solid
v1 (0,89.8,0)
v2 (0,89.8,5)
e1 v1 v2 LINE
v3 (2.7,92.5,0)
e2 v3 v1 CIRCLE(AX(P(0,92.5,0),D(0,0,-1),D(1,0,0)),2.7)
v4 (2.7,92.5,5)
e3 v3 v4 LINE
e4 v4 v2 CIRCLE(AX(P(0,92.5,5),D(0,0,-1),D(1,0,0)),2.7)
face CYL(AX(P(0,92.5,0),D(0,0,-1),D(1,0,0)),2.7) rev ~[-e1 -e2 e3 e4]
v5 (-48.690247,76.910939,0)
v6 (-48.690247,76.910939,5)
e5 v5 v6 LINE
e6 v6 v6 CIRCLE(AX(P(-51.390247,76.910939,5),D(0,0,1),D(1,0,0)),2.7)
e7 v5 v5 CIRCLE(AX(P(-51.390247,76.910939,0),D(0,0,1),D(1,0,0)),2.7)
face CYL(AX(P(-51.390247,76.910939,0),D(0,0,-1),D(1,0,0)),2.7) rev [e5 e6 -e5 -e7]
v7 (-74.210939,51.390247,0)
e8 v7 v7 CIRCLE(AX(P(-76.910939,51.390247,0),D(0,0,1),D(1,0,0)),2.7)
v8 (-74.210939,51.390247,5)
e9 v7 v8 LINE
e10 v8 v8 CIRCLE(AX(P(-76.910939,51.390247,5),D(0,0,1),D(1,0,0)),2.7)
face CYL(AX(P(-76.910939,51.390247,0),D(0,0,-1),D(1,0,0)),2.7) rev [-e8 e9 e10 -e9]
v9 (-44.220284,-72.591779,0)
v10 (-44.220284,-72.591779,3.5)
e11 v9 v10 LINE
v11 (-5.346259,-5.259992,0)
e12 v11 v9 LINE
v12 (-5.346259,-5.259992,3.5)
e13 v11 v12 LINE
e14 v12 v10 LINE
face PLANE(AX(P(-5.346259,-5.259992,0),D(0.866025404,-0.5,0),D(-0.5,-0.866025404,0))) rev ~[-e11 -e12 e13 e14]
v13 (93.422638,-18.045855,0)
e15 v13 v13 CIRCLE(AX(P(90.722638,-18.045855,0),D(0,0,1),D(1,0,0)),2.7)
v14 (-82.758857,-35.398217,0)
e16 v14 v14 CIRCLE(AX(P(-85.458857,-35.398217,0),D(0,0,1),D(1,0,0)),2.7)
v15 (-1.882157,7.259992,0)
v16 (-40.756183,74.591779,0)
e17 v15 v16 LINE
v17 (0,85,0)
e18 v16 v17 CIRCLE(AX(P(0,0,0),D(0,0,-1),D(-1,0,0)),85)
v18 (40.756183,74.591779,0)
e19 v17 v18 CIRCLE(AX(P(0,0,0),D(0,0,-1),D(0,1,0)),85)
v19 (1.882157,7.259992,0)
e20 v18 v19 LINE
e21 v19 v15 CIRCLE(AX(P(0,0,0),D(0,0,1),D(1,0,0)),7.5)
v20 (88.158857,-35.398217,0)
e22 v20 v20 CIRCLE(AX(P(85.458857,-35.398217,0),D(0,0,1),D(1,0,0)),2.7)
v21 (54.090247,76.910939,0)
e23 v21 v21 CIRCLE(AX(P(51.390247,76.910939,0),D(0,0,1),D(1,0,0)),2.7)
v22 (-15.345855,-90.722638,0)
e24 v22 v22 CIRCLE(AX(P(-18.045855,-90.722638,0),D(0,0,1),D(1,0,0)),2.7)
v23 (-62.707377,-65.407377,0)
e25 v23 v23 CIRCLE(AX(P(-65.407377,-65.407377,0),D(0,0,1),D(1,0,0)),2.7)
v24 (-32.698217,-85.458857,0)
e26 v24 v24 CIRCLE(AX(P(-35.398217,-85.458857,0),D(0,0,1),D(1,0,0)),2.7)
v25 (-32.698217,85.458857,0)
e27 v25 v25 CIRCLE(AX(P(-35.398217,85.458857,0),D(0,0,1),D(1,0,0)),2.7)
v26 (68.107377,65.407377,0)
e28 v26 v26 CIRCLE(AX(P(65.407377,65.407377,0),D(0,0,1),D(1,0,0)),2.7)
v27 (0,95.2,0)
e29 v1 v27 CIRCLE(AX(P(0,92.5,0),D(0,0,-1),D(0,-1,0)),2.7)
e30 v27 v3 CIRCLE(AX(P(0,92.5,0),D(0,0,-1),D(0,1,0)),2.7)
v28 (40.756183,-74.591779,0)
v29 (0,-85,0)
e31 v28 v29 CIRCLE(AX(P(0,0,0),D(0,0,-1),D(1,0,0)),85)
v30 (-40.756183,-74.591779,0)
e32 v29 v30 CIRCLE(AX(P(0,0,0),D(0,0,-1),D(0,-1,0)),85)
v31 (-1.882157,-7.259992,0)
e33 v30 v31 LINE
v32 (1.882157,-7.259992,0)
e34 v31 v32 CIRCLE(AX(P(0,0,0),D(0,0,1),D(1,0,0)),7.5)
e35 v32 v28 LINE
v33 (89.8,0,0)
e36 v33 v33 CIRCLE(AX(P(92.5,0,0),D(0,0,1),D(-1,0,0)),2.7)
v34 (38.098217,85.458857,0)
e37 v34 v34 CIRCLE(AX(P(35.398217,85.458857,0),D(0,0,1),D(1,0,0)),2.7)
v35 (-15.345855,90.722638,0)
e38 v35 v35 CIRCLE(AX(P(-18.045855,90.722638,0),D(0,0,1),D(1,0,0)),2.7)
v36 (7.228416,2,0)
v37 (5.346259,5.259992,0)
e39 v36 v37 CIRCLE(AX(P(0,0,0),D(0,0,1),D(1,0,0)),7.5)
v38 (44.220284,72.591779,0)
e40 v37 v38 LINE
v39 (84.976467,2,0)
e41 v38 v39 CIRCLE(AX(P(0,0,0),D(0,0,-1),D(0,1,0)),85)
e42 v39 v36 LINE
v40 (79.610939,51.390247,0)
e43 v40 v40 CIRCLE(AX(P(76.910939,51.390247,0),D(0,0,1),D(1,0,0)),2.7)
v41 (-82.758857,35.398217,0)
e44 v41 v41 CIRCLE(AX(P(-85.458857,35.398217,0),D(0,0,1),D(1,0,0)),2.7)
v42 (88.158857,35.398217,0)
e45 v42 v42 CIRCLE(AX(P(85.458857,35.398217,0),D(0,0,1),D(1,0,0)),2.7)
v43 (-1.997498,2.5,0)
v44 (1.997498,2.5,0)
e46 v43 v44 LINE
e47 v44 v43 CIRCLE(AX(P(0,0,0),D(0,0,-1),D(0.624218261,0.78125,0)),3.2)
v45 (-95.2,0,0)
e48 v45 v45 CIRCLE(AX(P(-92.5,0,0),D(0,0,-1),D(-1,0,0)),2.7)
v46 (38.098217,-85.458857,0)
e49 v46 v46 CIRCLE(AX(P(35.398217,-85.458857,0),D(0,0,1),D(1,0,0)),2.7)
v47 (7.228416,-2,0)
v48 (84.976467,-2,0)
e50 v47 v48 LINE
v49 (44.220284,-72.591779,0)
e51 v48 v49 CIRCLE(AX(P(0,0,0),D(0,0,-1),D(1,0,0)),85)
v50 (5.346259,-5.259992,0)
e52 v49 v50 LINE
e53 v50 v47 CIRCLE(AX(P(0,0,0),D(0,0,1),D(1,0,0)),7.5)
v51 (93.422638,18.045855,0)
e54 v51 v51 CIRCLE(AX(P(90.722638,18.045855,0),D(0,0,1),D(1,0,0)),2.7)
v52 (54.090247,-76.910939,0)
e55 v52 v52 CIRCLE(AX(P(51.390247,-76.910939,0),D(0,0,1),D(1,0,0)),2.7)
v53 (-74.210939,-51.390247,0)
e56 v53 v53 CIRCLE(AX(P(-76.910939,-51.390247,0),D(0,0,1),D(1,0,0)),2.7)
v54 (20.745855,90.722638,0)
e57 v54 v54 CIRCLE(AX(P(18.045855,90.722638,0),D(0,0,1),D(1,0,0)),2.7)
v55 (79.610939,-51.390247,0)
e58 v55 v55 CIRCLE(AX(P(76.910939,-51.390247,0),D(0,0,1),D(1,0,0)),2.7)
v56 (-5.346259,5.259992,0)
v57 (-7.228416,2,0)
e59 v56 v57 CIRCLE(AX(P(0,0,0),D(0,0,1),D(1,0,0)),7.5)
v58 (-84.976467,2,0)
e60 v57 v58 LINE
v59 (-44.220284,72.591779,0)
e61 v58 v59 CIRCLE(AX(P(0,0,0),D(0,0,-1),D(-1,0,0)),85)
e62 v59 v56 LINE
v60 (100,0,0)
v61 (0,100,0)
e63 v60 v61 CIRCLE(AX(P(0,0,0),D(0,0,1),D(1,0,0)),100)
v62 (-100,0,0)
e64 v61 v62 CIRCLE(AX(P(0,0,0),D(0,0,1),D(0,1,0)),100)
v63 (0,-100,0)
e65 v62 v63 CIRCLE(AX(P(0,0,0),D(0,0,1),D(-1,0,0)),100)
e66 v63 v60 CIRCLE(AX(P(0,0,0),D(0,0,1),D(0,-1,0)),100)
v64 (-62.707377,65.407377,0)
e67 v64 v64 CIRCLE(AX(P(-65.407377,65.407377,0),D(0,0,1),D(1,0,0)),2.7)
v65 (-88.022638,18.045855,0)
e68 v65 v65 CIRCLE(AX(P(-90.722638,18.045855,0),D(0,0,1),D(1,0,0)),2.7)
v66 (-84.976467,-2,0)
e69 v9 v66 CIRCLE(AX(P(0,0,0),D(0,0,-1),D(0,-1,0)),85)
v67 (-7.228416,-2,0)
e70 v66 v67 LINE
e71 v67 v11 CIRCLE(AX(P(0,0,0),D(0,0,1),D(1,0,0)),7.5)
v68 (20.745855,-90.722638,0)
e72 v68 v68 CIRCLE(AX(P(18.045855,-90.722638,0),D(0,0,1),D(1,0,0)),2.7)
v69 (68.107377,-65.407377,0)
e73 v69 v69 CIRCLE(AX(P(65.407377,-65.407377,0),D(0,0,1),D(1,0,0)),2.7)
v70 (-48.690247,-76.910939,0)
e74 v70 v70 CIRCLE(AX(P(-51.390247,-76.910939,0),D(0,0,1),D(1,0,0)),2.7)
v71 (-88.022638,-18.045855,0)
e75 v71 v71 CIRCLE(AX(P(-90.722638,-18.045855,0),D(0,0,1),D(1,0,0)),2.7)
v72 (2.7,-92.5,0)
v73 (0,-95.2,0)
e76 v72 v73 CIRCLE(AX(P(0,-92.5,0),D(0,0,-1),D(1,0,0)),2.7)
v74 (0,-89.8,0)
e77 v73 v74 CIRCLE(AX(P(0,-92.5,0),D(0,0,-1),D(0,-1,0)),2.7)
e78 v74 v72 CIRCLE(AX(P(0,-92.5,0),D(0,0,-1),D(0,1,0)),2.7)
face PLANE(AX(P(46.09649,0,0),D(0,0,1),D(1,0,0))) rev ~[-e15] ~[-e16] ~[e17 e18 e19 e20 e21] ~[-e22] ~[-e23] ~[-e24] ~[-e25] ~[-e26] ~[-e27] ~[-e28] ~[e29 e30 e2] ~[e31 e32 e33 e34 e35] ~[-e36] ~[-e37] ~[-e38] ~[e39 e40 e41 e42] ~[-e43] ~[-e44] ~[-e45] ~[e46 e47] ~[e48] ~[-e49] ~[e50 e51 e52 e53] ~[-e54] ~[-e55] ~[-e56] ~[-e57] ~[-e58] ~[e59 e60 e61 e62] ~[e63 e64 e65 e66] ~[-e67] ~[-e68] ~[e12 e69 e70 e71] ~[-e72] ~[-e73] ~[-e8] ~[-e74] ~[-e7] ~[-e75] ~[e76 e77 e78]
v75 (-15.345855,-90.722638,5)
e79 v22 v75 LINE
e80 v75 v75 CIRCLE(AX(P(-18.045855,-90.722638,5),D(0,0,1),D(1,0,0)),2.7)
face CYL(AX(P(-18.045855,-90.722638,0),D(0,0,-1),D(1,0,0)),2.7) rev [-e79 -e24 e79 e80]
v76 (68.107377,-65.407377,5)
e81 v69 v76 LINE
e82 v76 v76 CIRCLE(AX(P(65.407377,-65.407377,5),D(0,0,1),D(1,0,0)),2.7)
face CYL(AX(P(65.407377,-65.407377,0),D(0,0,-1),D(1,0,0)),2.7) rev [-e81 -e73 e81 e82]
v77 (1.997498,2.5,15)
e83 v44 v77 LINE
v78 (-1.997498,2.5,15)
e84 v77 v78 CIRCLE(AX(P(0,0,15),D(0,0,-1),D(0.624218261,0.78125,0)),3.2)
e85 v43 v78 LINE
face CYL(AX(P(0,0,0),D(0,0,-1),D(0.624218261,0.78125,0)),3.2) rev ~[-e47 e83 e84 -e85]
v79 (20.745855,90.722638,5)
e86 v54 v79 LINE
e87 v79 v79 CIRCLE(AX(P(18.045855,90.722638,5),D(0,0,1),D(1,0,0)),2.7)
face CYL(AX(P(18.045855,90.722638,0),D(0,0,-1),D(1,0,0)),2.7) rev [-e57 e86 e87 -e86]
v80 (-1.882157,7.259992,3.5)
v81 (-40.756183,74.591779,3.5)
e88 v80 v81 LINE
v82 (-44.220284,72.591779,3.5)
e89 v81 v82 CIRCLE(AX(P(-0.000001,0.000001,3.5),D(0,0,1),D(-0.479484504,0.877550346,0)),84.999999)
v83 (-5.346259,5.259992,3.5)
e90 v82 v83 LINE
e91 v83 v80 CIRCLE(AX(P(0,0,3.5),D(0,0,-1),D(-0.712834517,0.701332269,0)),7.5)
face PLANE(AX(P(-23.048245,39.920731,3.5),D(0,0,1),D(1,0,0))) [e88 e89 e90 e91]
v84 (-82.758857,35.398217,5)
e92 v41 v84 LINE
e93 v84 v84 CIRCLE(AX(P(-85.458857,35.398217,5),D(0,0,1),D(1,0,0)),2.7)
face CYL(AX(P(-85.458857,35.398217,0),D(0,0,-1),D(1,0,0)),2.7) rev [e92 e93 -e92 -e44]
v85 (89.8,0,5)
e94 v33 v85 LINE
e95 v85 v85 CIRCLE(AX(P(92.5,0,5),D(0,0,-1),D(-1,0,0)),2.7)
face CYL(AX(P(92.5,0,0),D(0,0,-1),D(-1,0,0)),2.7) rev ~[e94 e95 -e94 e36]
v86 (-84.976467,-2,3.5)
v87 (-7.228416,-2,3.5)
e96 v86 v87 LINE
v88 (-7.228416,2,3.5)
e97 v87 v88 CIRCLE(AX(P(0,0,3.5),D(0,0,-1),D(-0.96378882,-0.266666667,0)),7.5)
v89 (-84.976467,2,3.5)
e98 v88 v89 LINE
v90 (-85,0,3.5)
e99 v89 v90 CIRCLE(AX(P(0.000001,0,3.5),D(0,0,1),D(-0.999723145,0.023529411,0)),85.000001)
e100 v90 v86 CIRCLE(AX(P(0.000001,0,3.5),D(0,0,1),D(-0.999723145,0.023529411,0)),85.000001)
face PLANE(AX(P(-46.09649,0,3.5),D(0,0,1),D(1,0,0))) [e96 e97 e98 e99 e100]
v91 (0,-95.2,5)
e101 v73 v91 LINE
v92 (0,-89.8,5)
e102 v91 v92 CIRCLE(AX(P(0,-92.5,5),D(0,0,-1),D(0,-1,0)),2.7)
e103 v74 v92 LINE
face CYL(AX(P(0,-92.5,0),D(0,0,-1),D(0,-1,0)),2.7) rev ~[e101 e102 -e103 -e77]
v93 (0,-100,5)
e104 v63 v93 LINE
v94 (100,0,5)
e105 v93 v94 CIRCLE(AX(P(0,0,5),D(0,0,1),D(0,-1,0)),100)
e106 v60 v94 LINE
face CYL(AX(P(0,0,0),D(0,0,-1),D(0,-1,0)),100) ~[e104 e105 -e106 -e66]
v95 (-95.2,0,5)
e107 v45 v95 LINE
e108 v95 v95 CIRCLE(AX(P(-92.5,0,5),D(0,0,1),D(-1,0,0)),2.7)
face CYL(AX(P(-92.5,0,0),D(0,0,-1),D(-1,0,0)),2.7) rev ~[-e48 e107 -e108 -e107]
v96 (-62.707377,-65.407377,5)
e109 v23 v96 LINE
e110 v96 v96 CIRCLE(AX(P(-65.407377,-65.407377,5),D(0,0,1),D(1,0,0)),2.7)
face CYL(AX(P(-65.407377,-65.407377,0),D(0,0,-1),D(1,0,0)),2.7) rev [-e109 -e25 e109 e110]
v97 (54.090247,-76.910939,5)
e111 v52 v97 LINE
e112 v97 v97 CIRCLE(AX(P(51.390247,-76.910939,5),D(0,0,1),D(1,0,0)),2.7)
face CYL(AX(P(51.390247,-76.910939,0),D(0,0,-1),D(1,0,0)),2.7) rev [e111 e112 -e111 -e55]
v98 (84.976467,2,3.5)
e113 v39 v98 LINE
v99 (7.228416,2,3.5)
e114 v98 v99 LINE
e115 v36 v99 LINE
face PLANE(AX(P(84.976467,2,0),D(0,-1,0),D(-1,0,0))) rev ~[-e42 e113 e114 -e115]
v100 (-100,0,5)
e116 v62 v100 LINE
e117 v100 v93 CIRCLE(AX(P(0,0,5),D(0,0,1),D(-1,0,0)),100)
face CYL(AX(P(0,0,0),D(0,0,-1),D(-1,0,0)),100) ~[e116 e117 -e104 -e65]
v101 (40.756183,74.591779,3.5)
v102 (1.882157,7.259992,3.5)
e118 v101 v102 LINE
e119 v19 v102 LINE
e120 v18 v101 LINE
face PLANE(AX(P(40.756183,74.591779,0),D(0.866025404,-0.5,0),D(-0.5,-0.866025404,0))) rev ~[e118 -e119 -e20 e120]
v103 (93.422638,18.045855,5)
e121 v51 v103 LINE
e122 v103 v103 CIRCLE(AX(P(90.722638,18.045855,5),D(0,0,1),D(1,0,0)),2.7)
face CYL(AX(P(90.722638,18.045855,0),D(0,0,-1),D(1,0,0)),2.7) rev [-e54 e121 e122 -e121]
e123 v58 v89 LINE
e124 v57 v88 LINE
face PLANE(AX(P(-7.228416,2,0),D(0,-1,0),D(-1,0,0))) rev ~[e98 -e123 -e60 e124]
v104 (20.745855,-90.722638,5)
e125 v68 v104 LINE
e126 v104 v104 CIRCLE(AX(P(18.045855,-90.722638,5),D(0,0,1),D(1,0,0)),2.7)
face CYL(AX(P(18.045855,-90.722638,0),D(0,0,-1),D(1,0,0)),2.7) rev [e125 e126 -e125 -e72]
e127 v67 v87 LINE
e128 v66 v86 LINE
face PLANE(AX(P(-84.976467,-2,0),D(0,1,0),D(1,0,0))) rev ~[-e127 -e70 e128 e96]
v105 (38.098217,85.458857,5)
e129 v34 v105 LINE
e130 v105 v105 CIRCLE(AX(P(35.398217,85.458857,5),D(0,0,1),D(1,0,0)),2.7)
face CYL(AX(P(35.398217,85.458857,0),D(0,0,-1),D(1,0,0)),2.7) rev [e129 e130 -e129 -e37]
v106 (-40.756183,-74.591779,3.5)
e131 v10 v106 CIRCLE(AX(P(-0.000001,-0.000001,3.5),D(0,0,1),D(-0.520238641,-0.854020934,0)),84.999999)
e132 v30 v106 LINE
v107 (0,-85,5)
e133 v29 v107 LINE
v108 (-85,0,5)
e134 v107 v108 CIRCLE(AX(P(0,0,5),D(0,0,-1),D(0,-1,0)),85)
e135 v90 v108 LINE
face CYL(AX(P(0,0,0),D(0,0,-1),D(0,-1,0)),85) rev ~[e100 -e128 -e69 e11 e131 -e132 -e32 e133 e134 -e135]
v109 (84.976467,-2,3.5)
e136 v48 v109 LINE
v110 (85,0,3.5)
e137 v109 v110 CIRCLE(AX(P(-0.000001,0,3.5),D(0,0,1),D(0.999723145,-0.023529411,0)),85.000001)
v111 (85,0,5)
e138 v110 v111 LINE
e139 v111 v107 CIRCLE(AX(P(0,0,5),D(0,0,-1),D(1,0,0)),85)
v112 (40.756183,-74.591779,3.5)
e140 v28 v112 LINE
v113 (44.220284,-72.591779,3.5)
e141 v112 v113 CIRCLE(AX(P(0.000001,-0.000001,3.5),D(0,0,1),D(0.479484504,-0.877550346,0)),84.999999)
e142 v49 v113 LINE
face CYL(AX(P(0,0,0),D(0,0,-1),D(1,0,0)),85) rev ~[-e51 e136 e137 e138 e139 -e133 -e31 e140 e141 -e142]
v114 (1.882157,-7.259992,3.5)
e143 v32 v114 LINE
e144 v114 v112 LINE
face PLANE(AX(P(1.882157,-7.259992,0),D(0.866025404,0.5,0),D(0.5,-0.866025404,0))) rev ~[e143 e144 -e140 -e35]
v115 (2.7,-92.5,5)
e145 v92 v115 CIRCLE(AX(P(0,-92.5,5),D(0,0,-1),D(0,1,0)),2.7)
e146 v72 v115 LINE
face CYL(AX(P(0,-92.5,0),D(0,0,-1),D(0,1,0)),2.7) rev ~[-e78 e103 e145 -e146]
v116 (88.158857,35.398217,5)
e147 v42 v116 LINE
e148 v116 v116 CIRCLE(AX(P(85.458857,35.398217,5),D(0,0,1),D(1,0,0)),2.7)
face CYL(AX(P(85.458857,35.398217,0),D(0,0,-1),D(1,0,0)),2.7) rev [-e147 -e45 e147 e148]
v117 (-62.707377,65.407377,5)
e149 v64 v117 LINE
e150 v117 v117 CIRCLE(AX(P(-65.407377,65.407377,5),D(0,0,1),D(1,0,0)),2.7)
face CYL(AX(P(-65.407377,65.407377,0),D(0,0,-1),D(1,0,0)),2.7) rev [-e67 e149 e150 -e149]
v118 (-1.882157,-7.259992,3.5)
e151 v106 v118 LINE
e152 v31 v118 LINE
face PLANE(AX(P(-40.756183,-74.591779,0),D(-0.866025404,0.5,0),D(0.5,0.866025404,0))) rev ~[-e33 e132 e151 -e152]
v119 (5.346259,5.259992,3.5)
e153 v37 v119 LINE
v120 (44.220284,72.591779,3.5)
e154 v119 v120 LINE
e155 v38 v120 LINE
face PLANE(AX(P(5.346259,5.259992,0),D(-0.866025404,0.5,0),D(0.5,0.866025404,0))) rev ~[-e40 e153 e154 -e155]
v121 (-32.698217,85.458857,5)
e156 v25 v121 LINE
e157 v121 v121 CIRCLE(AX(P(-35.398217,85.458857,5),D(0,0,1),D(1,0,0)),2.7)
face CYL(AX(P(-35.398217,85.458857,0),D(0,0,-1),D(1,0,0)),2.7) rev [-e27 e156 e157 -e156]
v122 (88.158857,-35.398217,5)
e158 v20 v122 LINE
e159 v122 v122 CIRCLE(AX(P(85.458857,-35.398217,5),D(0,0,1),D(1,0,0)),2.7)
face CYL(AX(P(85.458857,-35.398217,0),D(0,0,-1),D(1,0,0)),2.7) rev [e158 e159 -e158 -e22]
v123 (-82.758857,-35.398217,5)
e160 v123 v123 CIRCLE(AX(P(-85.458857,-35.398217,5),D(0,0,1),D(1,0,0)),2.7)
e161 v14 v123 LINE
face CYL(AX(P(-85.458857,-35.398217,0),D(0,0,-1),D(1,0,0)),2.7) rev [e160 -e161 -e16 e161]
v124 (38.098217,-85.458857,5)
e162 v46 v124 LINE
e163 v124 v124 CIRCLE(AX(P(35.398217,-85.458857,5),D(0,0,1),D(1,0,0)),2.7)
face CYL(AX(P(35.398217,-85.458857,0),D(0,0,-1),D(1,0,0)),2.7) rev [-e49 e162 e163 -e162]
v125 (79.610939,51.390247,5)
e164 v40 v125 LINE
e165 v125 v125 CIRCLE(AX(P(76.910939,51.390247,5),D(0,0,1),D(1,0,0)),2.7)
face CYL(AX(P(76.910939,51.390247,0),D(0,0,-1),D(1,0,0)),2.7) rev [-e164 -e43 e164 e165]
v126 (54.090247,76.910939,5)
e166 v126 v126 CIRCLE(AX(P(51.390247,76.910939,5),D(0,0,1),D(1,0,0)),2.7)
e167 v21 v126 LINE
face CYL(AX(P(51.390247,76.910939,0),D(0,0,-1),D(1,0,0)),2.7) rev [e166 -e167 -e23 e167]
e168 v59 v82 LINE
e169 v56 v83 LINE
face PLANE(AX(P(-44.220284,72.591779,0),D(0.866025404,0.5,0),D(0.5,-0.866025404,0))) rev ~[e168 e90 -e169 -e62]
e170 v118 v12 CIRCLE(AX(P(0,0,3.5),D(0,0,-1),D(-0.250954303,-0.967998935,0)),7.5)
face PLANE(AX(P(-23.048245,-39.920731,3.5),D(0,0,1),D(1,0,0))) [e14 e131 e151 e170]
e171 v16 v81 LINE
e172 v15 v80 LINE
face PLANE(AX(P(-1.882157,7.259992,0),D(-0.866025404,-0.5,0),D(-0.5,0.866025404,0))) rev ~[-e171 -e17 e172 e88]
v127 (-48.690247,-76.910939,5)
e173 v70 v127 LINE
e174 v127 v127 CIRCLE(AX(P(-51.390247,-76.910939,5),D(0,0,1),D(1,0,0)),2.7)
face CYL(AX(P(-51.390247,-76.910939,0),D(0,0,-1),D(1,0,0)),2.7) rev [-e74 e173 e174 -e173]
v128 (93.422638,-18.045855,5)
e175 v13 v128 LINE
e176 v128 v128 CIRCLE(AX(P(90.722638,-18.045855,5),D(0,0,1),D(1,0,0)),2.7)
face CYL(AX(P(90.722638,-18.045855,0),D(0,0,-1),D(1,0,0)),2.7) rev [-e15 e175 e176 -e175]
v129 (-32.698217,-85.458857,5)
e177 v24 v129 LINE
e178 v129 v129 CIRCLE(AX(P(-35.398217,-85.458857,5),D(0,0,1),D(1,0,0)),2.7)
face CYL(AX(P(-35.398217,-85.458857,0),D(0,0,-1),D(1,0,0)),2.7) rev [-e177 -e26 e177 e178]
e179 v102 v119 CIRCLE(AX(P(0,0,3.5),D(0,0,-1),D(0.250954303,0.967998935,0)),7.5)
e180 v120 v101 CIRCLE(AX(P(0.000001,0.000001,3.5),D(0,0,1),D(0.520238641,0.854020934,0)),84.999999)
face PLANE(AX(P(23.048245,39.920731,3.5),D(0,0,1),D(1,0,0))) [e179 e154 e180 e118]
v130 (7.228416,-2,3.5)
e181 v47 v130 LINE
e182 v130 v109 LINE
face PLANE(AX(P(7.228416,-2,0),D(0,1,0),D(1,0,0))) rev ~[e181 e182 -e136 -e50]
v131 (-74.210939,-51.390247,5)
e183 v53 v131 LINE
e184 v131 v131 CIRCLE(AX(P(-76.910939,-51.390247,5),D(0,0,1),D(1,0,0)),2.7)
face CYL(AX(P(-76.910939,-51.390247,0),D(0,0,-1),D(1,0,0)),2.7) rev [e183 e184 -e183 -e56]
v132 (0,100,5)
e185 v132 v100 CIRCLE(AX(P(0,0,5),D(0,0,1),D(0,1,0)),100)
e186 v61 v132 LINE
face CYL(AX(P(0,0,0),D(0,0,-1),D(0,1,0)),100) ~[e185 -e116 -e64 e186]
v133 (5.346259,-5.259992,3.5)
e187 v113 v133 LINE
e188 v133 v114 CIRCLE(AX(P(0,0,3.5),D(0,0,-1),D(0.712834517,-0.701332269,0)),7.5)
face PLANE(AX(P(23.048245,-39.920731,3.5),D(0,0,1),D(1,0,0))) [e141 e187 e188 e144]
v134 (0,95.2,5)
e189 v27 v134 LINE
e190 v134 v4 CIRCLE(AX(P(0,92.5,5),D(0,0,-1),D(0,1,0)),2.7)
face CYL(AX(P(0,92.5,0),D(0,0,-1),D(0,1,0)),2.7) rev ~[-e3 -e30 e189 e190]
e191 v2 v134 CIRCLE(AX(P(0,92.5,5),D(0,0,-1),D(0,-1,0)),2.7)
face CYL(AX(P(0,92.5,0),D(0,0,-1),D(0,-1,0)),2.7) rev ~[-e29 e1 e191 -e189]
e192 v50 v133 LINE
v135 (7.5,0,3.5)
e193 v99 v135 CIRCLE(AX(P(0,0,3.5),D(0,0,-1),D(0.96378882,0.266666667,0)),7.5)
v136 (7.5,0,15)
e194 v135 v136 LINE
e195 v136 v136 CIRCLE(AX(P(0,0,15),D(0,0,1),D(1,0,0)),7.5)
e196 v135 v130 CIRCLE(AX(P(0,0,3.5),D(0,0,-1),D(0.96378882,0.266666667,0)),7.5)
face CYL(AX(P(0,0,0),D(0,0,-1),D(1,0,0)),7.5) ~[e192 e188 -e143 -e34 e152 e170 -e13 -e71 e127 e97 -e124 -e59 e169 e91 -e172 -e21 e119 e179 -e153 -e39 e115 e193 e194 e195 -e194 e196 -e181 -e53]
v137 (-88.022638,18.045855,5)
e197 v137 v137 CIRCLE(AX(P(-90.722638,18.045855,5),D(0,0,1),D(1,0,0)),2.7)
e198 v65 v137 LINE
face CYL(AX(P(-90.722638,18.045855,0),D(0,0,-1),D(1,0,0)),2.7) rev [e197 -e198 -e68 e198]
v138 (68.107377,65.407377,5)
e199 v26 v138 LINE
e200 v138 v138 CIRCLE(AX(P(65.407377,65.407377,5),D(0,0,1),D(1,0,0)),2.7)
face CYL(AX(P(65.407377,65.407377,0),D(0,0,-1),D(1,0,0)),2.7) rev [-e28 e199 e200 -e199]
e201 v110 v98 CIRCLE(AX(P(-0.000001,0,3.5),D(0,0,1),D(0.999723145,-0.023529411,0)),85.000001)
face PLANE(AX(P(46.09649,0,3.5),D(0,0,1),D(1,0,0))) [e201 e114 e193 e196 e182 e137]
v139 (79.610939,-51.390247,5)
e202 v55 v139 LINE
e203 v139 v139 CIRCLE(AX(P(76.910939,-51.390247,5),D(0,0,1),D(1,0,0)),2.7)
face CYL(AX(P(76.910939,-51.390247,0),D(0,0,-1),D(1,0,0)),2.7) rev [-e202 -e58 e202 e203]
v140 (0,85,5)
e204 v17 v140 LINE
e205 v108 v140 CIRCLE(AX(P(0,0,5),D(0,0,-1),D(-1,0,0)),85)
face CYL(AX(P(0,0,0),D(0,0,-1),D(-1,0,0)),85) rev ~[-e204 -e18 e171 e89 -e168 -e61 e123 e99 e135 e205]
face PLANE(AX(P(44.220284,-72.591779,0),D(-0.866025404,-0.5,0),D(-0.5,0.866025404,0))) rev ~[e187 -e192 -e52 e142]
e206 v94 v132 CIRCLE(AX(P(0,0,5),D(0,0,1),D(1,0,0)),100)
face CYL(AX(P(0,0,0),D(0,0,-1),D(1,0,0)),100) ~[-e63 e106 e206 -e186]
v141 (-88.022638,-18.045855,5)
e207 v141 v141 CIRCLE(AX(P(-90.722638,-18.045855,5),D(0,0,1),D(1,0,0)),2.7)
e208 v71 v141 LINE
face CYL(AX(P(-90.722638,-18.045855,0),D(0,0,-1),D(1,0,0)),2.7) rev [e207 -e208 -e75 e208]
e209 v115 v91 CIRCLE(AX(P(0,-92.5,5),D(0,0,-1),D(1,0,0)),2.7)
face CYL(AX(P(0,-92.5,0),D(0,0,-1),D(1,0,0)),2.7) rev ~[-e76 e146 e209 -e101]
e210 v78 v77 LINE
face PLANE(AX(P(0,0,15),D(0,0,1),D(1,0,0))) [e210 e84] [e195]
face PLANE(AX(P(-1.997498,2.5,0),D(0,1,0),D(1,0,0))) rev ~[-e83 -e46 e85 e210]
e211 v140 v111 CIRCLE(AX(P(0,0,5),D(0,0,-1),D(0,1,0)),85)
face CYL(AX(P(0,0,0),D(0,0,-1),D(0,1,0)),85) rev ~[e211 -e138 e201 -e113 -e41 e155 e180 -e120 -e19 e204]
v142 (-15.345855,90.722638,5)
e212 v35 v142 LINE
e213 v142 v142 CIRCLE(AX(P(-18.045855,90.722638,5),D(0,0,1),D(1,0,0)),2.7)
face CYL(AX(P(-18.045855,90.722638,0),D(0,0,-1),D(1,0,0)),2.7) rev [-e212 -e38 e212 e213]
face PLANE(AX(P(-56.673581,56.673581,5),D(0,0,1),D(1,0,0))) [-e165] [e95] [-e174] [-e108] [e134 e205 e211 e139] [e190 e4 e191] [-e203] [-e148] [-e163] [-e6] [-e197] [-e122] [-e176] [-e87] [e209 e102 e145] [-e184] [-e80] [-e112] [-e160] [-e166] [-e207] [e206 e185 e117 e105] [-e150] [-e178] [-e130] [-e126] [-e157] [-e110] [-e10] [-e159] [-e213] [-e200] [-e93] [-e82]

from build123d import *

# Parameters (mm, degrees)
SKETCH1_R           = 2.7
BOSS_EXTRUDE1_DEPTH = 5
SKETCH2_R           = 7.5
BOSS_EXTRUDE2_DEPTH = 15
BOSS_EXTRUDE3_DEPTH = 3.5


with BuildPart() as part:
    # Sketch1 → Boss-Extrude1 (new body)
    # profile 1 of 4: a face of its own
    with BuildSketch(Plane.XY):
        with BuildLine():
            Line((0, 89.8), (0, 85))
            ThreePointArc((0, 85), (60.104076401, 60.104076401), (85, 0))
            Line((85, 0), (89.8, 0))
            ThreePointArc((89.8, 0), (92.5, 2.7), (95.2, 0))
            Line((95.2, 0), (100, 0))
            ThreePointArc((100, 0), (70.710678119, 70.710678119), (0, 100))
            Line((0, 100), (0, 95.2))
            ThreePointArc((0, 95.2), (1.909188309, 94.409188309), (2.7, 92.5))
            ThreePointArc((2.7, 92.5), (1.909188309, 90.590811691), (0, 89.8))
        make_face()
        with Locations((90.722638437, 18.045854786)):
            Circle(SKETCH1_R, mode=Mode.SUBTRACT)
        with Locations((85.458856757, 35.398217494)):
            Circle(SKETCH1_R, mode=Mode.SUBTRACT)
        with Locations((18.045854786, 90.722638437)):
            Circle(SKETCH1_R, mode=Mode.SUBTRACT)
        with Locations((35.398217494, 85.458856757)):
            Circle(SKETCH1_R, mode=Mode.SUBTRACT)
        with Locations((65.40737726, 65.40737726)):
            Circle(SKETCH1_R, mode=Mode.SUBTRACT)
        with Locations((76.910939138, 51.390246554)):
            Circle(SKETCH1_R, mode=Mode.SUBTRACT)
        with Locations((51.390246554, 76.910939138)):
            Circle(SKETCH1_R, mode=Mode.SUBTRACT)
    # profile 2 of 4: a face of its own
    with BuildSketch(Plane.XY):
        with BuildLine():
            ThreePointArc((85, 0), (60.104076401, -60.104076401), (0, -85))
            Line((0, -85), (0, -89.8))
            ThreePointArc((0, -89.8), (1.909188309, -90.590811691), (2.7, -92.5))
            ThreePointArc((2.7, -92.5), (1.909188309, -94.409188309), (0, -95.2))
            Line((0, -95.2), (0, -100))
            ThreePointArc((0, -100), (70.710678119, -70.710678119), (100, 0))
            Line((100, 0), (95.2, 0))
            ThreePointArc((95.2, 0), (92.5, -2.7), (89.8, 0))
            Line((89.8, 0), (85, 0))
        make_face()
        with Locations((18.045854786, -90.722638437)):
            Circle(SKETCH1_R, mode=Mode.SUBTRACT)
        with Locations((35.398217494, -85.458856757)):
            Circle(SKETCH1_R, mode=Mode.SUBTRACT)
        with Locations((51.390246554, -76.910939138)):
            Circle(SKETCH1_R, mode=Mode.SUBTRACT)
        with Locations((65.40737726, -65.40737726)):
            Circle(SKETCH1_R, mode=Mode.SUBTRACT)
        with Locations((76.910939138, -51.390246554)):
            Circle(SKETCH1_R, mode=Mode.SUBTRACT)
        with Locations((85.458856757, -35.398217494)):
            Circle(SKETCH1_R, mode=Mode.SUBTRACT)
        with Locations((90.722638437, -18.045854786)):
            Circle(SKETCH1_R, mode=Mode.SUBTRACT)
    # profile 3 of 4: a face of its own
    with BuildSketch(Plane.XY):
        with BuildLine():
            ThreePointArc((0, -85), (-60.104076401, -60.104076401), (-85, 0))
            Line((-85, 0), (-89.8, 0))
            ThreePointArc((-89.8, 0), (-92.5, -2.7), (-95.2, 0))
            Line((-95.2, 0), (-100, 0))
            ThreePointArc((-100, 0), (-70.710678119, -70.710678119), (0, -100))
            Line((0, -100), (0, -95.2))
            ThreePointArc((0, -95.2), (-2.7, -92.5), (0, -89.8))
            Line((0, -89.8), (0, -85))
        make_face()
        with Locations((-51.390246554, -76.910939138)):
            Circle(SKETCH1_R, mode=Mode.SUBTRACT)
        with Locations((-76.910939138, -51.390246554)):
            Circle(SKETCH1_R, mode=Mode.SUBTRACT)
        with Locations((-65.40737726, -65.40737726)):
            Circle(SKETCH1_R, mode=Mode.SUBTRACT)
        with Locations((-35.398217494, -85.458856757)):
            Circle(SKETCH1_R, mode=Mode.SUBTRACT)
        with Locations((-18.045854786, -90.722638437)):
            Circle(SKETCH1_R, mode=Mode.SUBTRACT)
        with Locations((-85.458856757, -35.398217494)):
            Circle(SKETCH1_R, mode=Mode.SUBTRACT)
        with Locations((-90.722638437, -18.045854786)):
            Circle(SKETCH1_R, mode=Mode.SUBTRACT)
    # profile 4 of 4: a face of its own
    with BuildSketch(Plane.XY):
        with BuildLine():
            Line((-89.8, 0), (-85, 0))
            ThreePointArc((-85, 0), (-60.104076401, 60.104076401), (0, 85))
            Line((0, 85), (0, 89.8))
            ThreePointArc((0, 89.8), (-2.7, 92.5), (0, 95.2))
            Line((0, 95.2), (0, 100))
            ThreePointArc((0, 100), (-70.710678119, 70.710678119), (-100, 0))
            Line((-100, 0), (-95.2, 0))
            ThreePointArc((-95.2, 0), (-92.5, 2.7), (-89.8, 0))
        make_face()
        with Locations((-90.722638437, 18.045854786)):
            Circle(SKETCH1_R, mode=Mode.SUBTRACT)
        with Locations((-85.458856757, 35.398217494)):
            Circle(SKETCH1_R, mode=Mode.SUBTRACT)
        with Locations((-76.910939138, 51.390246554)):
            Circle(SKETCH1_R, mode=Mode.SUBTRACT)
        with Locations((-65.40737726, 65.40737726)):
            Circle(SKETCH1_R, mode=Mode.SUBTRACT)
        with Locations((-51.390246554, 76.910939138)):
            Circle(SKETCH1_R, mode=Mode.SUBTRACT)
        with Locations((-35.398217494, 85.458856757)):
            Circle(SKETCH1_R, mode=Mode.SUBTRACT)
        with Locations((-18.045854786, 90.722638437)):
            Circle(SKETCH1_R, mode=Mode.SUBTRACT)
    extrude(amount=BOSS_EXTRUDE1_DEPTH)



with BuildPart() as body_2:
    # Sketch2 → Boss-Extrude2 (new body)
    with BuildSketch(Plane.XY):
        Circle(SKETCH2_R)
        with BuildLine():
            Line((-1.997498436, 2.5), (1.997498436, 2.5))
            ThreePointArc((1.997498436, 2.5), (0, -3.2), (-1.997498436, 2.5))
        make_face(mode=Mode.SUBTRACT)
    extrude(amount=BOSS_EXTRUDE2_DEPTH)


with BuildPart() as part_1:
    add(part.part)

    add(body_2.part)  # Boss-Extrude3 merges body 2
    # Sketch3 → Boss-Extrude3 (add)
    with BuildSketch(Plane.XY):
        with BuildLine():
            Line((84.976467331, 2), (7.228416147, 2))
            ThreePointArc((7.228416147, 2), (7.5, 0), (7.228416147, -2))
            Line((7.228416147, -2), (84.976467331, -2))
            ThreePointArc((84.976467331, -2), (85, 0), (84.976467331, 2))
        make_face()
        with BuildLine():
            Line((44.220284473, -72.591779432), (5.346258881, -5.259992013))
            ThreePointArc((5.346258881, -5.259992013), (3.75, -6.495190528), (1.882157266, -7.259992013))
            Line((1.882157266, -7.259992013), (40.756182858, -74.591779432))
            ThreePointArc((40.756182858, -74.591779432), (42.5, -73.612159322), (44.220284473, -72.591779432))
        make_face()
        with BuildLine():
            Line((-40.756182858, -74.591779432), (-1.882157266, -7.259992013))
            ThreePointArc((-1.882157266, -7.259992013), (-3.75, -6.495190528), (-5.346258881, -5.259992013))
            Line((-5.346258881, -5.259992013), (-44.220284473, -72.591779432))
            ThreePointArc((-44.220284473, -72.591779432), (-42.5, -73.612159322), (-40.756182858, -74.591779432))
        make_face()
        with BuildLine():
            Line((-84.976467331, -2), (-7.228416147, -2))
            ThreePointArc((-7.228416147, -2), (-7.5, 0), (-7.228416147, 2))
            Line((-7.228416147, 2), (-84.976467331, 2))
            ThreePointArc((-84.976467331, 2), (-85, 0), (-84.976467331, -2))
        make_face()
        with BuildLine():
            Line((-44.220284473, 72.591779432), (-5.346258881, 5.259992013))
            ThreePointArc((-5.346258881, 5.259992013), (-3.75, 6.495190528), (-1.882157266, 7.259992013))
            Line((-1.882157266, 7.259992013), (-40.756182858, 74.591779432))
            ThreePointArc((-40.756182858, 74.591779432), (-42.5, 73.612159322), (-44.220284473, 72.591779432))
        make_face()
        with BuildLine():
            Line((40.756182858, 74.591779432), (1.882157266, 7.259992013))
            ThreePointArc((1.882157266, 7.259992013), (3.75, 6.495190528), (5.346258881, 5.259992013))
            Line((5.346258881, 5.259992013), (44.220284473, 72.591779432))
            ThreePointArc((44.220284473, 72.591779432), (42.5, 73.612159322), (40.756182858, 74.591779432))
        make_face()
    extrude(amount=BOSS_EXTRUDE3_DEPTH)


solid = part_1.part
